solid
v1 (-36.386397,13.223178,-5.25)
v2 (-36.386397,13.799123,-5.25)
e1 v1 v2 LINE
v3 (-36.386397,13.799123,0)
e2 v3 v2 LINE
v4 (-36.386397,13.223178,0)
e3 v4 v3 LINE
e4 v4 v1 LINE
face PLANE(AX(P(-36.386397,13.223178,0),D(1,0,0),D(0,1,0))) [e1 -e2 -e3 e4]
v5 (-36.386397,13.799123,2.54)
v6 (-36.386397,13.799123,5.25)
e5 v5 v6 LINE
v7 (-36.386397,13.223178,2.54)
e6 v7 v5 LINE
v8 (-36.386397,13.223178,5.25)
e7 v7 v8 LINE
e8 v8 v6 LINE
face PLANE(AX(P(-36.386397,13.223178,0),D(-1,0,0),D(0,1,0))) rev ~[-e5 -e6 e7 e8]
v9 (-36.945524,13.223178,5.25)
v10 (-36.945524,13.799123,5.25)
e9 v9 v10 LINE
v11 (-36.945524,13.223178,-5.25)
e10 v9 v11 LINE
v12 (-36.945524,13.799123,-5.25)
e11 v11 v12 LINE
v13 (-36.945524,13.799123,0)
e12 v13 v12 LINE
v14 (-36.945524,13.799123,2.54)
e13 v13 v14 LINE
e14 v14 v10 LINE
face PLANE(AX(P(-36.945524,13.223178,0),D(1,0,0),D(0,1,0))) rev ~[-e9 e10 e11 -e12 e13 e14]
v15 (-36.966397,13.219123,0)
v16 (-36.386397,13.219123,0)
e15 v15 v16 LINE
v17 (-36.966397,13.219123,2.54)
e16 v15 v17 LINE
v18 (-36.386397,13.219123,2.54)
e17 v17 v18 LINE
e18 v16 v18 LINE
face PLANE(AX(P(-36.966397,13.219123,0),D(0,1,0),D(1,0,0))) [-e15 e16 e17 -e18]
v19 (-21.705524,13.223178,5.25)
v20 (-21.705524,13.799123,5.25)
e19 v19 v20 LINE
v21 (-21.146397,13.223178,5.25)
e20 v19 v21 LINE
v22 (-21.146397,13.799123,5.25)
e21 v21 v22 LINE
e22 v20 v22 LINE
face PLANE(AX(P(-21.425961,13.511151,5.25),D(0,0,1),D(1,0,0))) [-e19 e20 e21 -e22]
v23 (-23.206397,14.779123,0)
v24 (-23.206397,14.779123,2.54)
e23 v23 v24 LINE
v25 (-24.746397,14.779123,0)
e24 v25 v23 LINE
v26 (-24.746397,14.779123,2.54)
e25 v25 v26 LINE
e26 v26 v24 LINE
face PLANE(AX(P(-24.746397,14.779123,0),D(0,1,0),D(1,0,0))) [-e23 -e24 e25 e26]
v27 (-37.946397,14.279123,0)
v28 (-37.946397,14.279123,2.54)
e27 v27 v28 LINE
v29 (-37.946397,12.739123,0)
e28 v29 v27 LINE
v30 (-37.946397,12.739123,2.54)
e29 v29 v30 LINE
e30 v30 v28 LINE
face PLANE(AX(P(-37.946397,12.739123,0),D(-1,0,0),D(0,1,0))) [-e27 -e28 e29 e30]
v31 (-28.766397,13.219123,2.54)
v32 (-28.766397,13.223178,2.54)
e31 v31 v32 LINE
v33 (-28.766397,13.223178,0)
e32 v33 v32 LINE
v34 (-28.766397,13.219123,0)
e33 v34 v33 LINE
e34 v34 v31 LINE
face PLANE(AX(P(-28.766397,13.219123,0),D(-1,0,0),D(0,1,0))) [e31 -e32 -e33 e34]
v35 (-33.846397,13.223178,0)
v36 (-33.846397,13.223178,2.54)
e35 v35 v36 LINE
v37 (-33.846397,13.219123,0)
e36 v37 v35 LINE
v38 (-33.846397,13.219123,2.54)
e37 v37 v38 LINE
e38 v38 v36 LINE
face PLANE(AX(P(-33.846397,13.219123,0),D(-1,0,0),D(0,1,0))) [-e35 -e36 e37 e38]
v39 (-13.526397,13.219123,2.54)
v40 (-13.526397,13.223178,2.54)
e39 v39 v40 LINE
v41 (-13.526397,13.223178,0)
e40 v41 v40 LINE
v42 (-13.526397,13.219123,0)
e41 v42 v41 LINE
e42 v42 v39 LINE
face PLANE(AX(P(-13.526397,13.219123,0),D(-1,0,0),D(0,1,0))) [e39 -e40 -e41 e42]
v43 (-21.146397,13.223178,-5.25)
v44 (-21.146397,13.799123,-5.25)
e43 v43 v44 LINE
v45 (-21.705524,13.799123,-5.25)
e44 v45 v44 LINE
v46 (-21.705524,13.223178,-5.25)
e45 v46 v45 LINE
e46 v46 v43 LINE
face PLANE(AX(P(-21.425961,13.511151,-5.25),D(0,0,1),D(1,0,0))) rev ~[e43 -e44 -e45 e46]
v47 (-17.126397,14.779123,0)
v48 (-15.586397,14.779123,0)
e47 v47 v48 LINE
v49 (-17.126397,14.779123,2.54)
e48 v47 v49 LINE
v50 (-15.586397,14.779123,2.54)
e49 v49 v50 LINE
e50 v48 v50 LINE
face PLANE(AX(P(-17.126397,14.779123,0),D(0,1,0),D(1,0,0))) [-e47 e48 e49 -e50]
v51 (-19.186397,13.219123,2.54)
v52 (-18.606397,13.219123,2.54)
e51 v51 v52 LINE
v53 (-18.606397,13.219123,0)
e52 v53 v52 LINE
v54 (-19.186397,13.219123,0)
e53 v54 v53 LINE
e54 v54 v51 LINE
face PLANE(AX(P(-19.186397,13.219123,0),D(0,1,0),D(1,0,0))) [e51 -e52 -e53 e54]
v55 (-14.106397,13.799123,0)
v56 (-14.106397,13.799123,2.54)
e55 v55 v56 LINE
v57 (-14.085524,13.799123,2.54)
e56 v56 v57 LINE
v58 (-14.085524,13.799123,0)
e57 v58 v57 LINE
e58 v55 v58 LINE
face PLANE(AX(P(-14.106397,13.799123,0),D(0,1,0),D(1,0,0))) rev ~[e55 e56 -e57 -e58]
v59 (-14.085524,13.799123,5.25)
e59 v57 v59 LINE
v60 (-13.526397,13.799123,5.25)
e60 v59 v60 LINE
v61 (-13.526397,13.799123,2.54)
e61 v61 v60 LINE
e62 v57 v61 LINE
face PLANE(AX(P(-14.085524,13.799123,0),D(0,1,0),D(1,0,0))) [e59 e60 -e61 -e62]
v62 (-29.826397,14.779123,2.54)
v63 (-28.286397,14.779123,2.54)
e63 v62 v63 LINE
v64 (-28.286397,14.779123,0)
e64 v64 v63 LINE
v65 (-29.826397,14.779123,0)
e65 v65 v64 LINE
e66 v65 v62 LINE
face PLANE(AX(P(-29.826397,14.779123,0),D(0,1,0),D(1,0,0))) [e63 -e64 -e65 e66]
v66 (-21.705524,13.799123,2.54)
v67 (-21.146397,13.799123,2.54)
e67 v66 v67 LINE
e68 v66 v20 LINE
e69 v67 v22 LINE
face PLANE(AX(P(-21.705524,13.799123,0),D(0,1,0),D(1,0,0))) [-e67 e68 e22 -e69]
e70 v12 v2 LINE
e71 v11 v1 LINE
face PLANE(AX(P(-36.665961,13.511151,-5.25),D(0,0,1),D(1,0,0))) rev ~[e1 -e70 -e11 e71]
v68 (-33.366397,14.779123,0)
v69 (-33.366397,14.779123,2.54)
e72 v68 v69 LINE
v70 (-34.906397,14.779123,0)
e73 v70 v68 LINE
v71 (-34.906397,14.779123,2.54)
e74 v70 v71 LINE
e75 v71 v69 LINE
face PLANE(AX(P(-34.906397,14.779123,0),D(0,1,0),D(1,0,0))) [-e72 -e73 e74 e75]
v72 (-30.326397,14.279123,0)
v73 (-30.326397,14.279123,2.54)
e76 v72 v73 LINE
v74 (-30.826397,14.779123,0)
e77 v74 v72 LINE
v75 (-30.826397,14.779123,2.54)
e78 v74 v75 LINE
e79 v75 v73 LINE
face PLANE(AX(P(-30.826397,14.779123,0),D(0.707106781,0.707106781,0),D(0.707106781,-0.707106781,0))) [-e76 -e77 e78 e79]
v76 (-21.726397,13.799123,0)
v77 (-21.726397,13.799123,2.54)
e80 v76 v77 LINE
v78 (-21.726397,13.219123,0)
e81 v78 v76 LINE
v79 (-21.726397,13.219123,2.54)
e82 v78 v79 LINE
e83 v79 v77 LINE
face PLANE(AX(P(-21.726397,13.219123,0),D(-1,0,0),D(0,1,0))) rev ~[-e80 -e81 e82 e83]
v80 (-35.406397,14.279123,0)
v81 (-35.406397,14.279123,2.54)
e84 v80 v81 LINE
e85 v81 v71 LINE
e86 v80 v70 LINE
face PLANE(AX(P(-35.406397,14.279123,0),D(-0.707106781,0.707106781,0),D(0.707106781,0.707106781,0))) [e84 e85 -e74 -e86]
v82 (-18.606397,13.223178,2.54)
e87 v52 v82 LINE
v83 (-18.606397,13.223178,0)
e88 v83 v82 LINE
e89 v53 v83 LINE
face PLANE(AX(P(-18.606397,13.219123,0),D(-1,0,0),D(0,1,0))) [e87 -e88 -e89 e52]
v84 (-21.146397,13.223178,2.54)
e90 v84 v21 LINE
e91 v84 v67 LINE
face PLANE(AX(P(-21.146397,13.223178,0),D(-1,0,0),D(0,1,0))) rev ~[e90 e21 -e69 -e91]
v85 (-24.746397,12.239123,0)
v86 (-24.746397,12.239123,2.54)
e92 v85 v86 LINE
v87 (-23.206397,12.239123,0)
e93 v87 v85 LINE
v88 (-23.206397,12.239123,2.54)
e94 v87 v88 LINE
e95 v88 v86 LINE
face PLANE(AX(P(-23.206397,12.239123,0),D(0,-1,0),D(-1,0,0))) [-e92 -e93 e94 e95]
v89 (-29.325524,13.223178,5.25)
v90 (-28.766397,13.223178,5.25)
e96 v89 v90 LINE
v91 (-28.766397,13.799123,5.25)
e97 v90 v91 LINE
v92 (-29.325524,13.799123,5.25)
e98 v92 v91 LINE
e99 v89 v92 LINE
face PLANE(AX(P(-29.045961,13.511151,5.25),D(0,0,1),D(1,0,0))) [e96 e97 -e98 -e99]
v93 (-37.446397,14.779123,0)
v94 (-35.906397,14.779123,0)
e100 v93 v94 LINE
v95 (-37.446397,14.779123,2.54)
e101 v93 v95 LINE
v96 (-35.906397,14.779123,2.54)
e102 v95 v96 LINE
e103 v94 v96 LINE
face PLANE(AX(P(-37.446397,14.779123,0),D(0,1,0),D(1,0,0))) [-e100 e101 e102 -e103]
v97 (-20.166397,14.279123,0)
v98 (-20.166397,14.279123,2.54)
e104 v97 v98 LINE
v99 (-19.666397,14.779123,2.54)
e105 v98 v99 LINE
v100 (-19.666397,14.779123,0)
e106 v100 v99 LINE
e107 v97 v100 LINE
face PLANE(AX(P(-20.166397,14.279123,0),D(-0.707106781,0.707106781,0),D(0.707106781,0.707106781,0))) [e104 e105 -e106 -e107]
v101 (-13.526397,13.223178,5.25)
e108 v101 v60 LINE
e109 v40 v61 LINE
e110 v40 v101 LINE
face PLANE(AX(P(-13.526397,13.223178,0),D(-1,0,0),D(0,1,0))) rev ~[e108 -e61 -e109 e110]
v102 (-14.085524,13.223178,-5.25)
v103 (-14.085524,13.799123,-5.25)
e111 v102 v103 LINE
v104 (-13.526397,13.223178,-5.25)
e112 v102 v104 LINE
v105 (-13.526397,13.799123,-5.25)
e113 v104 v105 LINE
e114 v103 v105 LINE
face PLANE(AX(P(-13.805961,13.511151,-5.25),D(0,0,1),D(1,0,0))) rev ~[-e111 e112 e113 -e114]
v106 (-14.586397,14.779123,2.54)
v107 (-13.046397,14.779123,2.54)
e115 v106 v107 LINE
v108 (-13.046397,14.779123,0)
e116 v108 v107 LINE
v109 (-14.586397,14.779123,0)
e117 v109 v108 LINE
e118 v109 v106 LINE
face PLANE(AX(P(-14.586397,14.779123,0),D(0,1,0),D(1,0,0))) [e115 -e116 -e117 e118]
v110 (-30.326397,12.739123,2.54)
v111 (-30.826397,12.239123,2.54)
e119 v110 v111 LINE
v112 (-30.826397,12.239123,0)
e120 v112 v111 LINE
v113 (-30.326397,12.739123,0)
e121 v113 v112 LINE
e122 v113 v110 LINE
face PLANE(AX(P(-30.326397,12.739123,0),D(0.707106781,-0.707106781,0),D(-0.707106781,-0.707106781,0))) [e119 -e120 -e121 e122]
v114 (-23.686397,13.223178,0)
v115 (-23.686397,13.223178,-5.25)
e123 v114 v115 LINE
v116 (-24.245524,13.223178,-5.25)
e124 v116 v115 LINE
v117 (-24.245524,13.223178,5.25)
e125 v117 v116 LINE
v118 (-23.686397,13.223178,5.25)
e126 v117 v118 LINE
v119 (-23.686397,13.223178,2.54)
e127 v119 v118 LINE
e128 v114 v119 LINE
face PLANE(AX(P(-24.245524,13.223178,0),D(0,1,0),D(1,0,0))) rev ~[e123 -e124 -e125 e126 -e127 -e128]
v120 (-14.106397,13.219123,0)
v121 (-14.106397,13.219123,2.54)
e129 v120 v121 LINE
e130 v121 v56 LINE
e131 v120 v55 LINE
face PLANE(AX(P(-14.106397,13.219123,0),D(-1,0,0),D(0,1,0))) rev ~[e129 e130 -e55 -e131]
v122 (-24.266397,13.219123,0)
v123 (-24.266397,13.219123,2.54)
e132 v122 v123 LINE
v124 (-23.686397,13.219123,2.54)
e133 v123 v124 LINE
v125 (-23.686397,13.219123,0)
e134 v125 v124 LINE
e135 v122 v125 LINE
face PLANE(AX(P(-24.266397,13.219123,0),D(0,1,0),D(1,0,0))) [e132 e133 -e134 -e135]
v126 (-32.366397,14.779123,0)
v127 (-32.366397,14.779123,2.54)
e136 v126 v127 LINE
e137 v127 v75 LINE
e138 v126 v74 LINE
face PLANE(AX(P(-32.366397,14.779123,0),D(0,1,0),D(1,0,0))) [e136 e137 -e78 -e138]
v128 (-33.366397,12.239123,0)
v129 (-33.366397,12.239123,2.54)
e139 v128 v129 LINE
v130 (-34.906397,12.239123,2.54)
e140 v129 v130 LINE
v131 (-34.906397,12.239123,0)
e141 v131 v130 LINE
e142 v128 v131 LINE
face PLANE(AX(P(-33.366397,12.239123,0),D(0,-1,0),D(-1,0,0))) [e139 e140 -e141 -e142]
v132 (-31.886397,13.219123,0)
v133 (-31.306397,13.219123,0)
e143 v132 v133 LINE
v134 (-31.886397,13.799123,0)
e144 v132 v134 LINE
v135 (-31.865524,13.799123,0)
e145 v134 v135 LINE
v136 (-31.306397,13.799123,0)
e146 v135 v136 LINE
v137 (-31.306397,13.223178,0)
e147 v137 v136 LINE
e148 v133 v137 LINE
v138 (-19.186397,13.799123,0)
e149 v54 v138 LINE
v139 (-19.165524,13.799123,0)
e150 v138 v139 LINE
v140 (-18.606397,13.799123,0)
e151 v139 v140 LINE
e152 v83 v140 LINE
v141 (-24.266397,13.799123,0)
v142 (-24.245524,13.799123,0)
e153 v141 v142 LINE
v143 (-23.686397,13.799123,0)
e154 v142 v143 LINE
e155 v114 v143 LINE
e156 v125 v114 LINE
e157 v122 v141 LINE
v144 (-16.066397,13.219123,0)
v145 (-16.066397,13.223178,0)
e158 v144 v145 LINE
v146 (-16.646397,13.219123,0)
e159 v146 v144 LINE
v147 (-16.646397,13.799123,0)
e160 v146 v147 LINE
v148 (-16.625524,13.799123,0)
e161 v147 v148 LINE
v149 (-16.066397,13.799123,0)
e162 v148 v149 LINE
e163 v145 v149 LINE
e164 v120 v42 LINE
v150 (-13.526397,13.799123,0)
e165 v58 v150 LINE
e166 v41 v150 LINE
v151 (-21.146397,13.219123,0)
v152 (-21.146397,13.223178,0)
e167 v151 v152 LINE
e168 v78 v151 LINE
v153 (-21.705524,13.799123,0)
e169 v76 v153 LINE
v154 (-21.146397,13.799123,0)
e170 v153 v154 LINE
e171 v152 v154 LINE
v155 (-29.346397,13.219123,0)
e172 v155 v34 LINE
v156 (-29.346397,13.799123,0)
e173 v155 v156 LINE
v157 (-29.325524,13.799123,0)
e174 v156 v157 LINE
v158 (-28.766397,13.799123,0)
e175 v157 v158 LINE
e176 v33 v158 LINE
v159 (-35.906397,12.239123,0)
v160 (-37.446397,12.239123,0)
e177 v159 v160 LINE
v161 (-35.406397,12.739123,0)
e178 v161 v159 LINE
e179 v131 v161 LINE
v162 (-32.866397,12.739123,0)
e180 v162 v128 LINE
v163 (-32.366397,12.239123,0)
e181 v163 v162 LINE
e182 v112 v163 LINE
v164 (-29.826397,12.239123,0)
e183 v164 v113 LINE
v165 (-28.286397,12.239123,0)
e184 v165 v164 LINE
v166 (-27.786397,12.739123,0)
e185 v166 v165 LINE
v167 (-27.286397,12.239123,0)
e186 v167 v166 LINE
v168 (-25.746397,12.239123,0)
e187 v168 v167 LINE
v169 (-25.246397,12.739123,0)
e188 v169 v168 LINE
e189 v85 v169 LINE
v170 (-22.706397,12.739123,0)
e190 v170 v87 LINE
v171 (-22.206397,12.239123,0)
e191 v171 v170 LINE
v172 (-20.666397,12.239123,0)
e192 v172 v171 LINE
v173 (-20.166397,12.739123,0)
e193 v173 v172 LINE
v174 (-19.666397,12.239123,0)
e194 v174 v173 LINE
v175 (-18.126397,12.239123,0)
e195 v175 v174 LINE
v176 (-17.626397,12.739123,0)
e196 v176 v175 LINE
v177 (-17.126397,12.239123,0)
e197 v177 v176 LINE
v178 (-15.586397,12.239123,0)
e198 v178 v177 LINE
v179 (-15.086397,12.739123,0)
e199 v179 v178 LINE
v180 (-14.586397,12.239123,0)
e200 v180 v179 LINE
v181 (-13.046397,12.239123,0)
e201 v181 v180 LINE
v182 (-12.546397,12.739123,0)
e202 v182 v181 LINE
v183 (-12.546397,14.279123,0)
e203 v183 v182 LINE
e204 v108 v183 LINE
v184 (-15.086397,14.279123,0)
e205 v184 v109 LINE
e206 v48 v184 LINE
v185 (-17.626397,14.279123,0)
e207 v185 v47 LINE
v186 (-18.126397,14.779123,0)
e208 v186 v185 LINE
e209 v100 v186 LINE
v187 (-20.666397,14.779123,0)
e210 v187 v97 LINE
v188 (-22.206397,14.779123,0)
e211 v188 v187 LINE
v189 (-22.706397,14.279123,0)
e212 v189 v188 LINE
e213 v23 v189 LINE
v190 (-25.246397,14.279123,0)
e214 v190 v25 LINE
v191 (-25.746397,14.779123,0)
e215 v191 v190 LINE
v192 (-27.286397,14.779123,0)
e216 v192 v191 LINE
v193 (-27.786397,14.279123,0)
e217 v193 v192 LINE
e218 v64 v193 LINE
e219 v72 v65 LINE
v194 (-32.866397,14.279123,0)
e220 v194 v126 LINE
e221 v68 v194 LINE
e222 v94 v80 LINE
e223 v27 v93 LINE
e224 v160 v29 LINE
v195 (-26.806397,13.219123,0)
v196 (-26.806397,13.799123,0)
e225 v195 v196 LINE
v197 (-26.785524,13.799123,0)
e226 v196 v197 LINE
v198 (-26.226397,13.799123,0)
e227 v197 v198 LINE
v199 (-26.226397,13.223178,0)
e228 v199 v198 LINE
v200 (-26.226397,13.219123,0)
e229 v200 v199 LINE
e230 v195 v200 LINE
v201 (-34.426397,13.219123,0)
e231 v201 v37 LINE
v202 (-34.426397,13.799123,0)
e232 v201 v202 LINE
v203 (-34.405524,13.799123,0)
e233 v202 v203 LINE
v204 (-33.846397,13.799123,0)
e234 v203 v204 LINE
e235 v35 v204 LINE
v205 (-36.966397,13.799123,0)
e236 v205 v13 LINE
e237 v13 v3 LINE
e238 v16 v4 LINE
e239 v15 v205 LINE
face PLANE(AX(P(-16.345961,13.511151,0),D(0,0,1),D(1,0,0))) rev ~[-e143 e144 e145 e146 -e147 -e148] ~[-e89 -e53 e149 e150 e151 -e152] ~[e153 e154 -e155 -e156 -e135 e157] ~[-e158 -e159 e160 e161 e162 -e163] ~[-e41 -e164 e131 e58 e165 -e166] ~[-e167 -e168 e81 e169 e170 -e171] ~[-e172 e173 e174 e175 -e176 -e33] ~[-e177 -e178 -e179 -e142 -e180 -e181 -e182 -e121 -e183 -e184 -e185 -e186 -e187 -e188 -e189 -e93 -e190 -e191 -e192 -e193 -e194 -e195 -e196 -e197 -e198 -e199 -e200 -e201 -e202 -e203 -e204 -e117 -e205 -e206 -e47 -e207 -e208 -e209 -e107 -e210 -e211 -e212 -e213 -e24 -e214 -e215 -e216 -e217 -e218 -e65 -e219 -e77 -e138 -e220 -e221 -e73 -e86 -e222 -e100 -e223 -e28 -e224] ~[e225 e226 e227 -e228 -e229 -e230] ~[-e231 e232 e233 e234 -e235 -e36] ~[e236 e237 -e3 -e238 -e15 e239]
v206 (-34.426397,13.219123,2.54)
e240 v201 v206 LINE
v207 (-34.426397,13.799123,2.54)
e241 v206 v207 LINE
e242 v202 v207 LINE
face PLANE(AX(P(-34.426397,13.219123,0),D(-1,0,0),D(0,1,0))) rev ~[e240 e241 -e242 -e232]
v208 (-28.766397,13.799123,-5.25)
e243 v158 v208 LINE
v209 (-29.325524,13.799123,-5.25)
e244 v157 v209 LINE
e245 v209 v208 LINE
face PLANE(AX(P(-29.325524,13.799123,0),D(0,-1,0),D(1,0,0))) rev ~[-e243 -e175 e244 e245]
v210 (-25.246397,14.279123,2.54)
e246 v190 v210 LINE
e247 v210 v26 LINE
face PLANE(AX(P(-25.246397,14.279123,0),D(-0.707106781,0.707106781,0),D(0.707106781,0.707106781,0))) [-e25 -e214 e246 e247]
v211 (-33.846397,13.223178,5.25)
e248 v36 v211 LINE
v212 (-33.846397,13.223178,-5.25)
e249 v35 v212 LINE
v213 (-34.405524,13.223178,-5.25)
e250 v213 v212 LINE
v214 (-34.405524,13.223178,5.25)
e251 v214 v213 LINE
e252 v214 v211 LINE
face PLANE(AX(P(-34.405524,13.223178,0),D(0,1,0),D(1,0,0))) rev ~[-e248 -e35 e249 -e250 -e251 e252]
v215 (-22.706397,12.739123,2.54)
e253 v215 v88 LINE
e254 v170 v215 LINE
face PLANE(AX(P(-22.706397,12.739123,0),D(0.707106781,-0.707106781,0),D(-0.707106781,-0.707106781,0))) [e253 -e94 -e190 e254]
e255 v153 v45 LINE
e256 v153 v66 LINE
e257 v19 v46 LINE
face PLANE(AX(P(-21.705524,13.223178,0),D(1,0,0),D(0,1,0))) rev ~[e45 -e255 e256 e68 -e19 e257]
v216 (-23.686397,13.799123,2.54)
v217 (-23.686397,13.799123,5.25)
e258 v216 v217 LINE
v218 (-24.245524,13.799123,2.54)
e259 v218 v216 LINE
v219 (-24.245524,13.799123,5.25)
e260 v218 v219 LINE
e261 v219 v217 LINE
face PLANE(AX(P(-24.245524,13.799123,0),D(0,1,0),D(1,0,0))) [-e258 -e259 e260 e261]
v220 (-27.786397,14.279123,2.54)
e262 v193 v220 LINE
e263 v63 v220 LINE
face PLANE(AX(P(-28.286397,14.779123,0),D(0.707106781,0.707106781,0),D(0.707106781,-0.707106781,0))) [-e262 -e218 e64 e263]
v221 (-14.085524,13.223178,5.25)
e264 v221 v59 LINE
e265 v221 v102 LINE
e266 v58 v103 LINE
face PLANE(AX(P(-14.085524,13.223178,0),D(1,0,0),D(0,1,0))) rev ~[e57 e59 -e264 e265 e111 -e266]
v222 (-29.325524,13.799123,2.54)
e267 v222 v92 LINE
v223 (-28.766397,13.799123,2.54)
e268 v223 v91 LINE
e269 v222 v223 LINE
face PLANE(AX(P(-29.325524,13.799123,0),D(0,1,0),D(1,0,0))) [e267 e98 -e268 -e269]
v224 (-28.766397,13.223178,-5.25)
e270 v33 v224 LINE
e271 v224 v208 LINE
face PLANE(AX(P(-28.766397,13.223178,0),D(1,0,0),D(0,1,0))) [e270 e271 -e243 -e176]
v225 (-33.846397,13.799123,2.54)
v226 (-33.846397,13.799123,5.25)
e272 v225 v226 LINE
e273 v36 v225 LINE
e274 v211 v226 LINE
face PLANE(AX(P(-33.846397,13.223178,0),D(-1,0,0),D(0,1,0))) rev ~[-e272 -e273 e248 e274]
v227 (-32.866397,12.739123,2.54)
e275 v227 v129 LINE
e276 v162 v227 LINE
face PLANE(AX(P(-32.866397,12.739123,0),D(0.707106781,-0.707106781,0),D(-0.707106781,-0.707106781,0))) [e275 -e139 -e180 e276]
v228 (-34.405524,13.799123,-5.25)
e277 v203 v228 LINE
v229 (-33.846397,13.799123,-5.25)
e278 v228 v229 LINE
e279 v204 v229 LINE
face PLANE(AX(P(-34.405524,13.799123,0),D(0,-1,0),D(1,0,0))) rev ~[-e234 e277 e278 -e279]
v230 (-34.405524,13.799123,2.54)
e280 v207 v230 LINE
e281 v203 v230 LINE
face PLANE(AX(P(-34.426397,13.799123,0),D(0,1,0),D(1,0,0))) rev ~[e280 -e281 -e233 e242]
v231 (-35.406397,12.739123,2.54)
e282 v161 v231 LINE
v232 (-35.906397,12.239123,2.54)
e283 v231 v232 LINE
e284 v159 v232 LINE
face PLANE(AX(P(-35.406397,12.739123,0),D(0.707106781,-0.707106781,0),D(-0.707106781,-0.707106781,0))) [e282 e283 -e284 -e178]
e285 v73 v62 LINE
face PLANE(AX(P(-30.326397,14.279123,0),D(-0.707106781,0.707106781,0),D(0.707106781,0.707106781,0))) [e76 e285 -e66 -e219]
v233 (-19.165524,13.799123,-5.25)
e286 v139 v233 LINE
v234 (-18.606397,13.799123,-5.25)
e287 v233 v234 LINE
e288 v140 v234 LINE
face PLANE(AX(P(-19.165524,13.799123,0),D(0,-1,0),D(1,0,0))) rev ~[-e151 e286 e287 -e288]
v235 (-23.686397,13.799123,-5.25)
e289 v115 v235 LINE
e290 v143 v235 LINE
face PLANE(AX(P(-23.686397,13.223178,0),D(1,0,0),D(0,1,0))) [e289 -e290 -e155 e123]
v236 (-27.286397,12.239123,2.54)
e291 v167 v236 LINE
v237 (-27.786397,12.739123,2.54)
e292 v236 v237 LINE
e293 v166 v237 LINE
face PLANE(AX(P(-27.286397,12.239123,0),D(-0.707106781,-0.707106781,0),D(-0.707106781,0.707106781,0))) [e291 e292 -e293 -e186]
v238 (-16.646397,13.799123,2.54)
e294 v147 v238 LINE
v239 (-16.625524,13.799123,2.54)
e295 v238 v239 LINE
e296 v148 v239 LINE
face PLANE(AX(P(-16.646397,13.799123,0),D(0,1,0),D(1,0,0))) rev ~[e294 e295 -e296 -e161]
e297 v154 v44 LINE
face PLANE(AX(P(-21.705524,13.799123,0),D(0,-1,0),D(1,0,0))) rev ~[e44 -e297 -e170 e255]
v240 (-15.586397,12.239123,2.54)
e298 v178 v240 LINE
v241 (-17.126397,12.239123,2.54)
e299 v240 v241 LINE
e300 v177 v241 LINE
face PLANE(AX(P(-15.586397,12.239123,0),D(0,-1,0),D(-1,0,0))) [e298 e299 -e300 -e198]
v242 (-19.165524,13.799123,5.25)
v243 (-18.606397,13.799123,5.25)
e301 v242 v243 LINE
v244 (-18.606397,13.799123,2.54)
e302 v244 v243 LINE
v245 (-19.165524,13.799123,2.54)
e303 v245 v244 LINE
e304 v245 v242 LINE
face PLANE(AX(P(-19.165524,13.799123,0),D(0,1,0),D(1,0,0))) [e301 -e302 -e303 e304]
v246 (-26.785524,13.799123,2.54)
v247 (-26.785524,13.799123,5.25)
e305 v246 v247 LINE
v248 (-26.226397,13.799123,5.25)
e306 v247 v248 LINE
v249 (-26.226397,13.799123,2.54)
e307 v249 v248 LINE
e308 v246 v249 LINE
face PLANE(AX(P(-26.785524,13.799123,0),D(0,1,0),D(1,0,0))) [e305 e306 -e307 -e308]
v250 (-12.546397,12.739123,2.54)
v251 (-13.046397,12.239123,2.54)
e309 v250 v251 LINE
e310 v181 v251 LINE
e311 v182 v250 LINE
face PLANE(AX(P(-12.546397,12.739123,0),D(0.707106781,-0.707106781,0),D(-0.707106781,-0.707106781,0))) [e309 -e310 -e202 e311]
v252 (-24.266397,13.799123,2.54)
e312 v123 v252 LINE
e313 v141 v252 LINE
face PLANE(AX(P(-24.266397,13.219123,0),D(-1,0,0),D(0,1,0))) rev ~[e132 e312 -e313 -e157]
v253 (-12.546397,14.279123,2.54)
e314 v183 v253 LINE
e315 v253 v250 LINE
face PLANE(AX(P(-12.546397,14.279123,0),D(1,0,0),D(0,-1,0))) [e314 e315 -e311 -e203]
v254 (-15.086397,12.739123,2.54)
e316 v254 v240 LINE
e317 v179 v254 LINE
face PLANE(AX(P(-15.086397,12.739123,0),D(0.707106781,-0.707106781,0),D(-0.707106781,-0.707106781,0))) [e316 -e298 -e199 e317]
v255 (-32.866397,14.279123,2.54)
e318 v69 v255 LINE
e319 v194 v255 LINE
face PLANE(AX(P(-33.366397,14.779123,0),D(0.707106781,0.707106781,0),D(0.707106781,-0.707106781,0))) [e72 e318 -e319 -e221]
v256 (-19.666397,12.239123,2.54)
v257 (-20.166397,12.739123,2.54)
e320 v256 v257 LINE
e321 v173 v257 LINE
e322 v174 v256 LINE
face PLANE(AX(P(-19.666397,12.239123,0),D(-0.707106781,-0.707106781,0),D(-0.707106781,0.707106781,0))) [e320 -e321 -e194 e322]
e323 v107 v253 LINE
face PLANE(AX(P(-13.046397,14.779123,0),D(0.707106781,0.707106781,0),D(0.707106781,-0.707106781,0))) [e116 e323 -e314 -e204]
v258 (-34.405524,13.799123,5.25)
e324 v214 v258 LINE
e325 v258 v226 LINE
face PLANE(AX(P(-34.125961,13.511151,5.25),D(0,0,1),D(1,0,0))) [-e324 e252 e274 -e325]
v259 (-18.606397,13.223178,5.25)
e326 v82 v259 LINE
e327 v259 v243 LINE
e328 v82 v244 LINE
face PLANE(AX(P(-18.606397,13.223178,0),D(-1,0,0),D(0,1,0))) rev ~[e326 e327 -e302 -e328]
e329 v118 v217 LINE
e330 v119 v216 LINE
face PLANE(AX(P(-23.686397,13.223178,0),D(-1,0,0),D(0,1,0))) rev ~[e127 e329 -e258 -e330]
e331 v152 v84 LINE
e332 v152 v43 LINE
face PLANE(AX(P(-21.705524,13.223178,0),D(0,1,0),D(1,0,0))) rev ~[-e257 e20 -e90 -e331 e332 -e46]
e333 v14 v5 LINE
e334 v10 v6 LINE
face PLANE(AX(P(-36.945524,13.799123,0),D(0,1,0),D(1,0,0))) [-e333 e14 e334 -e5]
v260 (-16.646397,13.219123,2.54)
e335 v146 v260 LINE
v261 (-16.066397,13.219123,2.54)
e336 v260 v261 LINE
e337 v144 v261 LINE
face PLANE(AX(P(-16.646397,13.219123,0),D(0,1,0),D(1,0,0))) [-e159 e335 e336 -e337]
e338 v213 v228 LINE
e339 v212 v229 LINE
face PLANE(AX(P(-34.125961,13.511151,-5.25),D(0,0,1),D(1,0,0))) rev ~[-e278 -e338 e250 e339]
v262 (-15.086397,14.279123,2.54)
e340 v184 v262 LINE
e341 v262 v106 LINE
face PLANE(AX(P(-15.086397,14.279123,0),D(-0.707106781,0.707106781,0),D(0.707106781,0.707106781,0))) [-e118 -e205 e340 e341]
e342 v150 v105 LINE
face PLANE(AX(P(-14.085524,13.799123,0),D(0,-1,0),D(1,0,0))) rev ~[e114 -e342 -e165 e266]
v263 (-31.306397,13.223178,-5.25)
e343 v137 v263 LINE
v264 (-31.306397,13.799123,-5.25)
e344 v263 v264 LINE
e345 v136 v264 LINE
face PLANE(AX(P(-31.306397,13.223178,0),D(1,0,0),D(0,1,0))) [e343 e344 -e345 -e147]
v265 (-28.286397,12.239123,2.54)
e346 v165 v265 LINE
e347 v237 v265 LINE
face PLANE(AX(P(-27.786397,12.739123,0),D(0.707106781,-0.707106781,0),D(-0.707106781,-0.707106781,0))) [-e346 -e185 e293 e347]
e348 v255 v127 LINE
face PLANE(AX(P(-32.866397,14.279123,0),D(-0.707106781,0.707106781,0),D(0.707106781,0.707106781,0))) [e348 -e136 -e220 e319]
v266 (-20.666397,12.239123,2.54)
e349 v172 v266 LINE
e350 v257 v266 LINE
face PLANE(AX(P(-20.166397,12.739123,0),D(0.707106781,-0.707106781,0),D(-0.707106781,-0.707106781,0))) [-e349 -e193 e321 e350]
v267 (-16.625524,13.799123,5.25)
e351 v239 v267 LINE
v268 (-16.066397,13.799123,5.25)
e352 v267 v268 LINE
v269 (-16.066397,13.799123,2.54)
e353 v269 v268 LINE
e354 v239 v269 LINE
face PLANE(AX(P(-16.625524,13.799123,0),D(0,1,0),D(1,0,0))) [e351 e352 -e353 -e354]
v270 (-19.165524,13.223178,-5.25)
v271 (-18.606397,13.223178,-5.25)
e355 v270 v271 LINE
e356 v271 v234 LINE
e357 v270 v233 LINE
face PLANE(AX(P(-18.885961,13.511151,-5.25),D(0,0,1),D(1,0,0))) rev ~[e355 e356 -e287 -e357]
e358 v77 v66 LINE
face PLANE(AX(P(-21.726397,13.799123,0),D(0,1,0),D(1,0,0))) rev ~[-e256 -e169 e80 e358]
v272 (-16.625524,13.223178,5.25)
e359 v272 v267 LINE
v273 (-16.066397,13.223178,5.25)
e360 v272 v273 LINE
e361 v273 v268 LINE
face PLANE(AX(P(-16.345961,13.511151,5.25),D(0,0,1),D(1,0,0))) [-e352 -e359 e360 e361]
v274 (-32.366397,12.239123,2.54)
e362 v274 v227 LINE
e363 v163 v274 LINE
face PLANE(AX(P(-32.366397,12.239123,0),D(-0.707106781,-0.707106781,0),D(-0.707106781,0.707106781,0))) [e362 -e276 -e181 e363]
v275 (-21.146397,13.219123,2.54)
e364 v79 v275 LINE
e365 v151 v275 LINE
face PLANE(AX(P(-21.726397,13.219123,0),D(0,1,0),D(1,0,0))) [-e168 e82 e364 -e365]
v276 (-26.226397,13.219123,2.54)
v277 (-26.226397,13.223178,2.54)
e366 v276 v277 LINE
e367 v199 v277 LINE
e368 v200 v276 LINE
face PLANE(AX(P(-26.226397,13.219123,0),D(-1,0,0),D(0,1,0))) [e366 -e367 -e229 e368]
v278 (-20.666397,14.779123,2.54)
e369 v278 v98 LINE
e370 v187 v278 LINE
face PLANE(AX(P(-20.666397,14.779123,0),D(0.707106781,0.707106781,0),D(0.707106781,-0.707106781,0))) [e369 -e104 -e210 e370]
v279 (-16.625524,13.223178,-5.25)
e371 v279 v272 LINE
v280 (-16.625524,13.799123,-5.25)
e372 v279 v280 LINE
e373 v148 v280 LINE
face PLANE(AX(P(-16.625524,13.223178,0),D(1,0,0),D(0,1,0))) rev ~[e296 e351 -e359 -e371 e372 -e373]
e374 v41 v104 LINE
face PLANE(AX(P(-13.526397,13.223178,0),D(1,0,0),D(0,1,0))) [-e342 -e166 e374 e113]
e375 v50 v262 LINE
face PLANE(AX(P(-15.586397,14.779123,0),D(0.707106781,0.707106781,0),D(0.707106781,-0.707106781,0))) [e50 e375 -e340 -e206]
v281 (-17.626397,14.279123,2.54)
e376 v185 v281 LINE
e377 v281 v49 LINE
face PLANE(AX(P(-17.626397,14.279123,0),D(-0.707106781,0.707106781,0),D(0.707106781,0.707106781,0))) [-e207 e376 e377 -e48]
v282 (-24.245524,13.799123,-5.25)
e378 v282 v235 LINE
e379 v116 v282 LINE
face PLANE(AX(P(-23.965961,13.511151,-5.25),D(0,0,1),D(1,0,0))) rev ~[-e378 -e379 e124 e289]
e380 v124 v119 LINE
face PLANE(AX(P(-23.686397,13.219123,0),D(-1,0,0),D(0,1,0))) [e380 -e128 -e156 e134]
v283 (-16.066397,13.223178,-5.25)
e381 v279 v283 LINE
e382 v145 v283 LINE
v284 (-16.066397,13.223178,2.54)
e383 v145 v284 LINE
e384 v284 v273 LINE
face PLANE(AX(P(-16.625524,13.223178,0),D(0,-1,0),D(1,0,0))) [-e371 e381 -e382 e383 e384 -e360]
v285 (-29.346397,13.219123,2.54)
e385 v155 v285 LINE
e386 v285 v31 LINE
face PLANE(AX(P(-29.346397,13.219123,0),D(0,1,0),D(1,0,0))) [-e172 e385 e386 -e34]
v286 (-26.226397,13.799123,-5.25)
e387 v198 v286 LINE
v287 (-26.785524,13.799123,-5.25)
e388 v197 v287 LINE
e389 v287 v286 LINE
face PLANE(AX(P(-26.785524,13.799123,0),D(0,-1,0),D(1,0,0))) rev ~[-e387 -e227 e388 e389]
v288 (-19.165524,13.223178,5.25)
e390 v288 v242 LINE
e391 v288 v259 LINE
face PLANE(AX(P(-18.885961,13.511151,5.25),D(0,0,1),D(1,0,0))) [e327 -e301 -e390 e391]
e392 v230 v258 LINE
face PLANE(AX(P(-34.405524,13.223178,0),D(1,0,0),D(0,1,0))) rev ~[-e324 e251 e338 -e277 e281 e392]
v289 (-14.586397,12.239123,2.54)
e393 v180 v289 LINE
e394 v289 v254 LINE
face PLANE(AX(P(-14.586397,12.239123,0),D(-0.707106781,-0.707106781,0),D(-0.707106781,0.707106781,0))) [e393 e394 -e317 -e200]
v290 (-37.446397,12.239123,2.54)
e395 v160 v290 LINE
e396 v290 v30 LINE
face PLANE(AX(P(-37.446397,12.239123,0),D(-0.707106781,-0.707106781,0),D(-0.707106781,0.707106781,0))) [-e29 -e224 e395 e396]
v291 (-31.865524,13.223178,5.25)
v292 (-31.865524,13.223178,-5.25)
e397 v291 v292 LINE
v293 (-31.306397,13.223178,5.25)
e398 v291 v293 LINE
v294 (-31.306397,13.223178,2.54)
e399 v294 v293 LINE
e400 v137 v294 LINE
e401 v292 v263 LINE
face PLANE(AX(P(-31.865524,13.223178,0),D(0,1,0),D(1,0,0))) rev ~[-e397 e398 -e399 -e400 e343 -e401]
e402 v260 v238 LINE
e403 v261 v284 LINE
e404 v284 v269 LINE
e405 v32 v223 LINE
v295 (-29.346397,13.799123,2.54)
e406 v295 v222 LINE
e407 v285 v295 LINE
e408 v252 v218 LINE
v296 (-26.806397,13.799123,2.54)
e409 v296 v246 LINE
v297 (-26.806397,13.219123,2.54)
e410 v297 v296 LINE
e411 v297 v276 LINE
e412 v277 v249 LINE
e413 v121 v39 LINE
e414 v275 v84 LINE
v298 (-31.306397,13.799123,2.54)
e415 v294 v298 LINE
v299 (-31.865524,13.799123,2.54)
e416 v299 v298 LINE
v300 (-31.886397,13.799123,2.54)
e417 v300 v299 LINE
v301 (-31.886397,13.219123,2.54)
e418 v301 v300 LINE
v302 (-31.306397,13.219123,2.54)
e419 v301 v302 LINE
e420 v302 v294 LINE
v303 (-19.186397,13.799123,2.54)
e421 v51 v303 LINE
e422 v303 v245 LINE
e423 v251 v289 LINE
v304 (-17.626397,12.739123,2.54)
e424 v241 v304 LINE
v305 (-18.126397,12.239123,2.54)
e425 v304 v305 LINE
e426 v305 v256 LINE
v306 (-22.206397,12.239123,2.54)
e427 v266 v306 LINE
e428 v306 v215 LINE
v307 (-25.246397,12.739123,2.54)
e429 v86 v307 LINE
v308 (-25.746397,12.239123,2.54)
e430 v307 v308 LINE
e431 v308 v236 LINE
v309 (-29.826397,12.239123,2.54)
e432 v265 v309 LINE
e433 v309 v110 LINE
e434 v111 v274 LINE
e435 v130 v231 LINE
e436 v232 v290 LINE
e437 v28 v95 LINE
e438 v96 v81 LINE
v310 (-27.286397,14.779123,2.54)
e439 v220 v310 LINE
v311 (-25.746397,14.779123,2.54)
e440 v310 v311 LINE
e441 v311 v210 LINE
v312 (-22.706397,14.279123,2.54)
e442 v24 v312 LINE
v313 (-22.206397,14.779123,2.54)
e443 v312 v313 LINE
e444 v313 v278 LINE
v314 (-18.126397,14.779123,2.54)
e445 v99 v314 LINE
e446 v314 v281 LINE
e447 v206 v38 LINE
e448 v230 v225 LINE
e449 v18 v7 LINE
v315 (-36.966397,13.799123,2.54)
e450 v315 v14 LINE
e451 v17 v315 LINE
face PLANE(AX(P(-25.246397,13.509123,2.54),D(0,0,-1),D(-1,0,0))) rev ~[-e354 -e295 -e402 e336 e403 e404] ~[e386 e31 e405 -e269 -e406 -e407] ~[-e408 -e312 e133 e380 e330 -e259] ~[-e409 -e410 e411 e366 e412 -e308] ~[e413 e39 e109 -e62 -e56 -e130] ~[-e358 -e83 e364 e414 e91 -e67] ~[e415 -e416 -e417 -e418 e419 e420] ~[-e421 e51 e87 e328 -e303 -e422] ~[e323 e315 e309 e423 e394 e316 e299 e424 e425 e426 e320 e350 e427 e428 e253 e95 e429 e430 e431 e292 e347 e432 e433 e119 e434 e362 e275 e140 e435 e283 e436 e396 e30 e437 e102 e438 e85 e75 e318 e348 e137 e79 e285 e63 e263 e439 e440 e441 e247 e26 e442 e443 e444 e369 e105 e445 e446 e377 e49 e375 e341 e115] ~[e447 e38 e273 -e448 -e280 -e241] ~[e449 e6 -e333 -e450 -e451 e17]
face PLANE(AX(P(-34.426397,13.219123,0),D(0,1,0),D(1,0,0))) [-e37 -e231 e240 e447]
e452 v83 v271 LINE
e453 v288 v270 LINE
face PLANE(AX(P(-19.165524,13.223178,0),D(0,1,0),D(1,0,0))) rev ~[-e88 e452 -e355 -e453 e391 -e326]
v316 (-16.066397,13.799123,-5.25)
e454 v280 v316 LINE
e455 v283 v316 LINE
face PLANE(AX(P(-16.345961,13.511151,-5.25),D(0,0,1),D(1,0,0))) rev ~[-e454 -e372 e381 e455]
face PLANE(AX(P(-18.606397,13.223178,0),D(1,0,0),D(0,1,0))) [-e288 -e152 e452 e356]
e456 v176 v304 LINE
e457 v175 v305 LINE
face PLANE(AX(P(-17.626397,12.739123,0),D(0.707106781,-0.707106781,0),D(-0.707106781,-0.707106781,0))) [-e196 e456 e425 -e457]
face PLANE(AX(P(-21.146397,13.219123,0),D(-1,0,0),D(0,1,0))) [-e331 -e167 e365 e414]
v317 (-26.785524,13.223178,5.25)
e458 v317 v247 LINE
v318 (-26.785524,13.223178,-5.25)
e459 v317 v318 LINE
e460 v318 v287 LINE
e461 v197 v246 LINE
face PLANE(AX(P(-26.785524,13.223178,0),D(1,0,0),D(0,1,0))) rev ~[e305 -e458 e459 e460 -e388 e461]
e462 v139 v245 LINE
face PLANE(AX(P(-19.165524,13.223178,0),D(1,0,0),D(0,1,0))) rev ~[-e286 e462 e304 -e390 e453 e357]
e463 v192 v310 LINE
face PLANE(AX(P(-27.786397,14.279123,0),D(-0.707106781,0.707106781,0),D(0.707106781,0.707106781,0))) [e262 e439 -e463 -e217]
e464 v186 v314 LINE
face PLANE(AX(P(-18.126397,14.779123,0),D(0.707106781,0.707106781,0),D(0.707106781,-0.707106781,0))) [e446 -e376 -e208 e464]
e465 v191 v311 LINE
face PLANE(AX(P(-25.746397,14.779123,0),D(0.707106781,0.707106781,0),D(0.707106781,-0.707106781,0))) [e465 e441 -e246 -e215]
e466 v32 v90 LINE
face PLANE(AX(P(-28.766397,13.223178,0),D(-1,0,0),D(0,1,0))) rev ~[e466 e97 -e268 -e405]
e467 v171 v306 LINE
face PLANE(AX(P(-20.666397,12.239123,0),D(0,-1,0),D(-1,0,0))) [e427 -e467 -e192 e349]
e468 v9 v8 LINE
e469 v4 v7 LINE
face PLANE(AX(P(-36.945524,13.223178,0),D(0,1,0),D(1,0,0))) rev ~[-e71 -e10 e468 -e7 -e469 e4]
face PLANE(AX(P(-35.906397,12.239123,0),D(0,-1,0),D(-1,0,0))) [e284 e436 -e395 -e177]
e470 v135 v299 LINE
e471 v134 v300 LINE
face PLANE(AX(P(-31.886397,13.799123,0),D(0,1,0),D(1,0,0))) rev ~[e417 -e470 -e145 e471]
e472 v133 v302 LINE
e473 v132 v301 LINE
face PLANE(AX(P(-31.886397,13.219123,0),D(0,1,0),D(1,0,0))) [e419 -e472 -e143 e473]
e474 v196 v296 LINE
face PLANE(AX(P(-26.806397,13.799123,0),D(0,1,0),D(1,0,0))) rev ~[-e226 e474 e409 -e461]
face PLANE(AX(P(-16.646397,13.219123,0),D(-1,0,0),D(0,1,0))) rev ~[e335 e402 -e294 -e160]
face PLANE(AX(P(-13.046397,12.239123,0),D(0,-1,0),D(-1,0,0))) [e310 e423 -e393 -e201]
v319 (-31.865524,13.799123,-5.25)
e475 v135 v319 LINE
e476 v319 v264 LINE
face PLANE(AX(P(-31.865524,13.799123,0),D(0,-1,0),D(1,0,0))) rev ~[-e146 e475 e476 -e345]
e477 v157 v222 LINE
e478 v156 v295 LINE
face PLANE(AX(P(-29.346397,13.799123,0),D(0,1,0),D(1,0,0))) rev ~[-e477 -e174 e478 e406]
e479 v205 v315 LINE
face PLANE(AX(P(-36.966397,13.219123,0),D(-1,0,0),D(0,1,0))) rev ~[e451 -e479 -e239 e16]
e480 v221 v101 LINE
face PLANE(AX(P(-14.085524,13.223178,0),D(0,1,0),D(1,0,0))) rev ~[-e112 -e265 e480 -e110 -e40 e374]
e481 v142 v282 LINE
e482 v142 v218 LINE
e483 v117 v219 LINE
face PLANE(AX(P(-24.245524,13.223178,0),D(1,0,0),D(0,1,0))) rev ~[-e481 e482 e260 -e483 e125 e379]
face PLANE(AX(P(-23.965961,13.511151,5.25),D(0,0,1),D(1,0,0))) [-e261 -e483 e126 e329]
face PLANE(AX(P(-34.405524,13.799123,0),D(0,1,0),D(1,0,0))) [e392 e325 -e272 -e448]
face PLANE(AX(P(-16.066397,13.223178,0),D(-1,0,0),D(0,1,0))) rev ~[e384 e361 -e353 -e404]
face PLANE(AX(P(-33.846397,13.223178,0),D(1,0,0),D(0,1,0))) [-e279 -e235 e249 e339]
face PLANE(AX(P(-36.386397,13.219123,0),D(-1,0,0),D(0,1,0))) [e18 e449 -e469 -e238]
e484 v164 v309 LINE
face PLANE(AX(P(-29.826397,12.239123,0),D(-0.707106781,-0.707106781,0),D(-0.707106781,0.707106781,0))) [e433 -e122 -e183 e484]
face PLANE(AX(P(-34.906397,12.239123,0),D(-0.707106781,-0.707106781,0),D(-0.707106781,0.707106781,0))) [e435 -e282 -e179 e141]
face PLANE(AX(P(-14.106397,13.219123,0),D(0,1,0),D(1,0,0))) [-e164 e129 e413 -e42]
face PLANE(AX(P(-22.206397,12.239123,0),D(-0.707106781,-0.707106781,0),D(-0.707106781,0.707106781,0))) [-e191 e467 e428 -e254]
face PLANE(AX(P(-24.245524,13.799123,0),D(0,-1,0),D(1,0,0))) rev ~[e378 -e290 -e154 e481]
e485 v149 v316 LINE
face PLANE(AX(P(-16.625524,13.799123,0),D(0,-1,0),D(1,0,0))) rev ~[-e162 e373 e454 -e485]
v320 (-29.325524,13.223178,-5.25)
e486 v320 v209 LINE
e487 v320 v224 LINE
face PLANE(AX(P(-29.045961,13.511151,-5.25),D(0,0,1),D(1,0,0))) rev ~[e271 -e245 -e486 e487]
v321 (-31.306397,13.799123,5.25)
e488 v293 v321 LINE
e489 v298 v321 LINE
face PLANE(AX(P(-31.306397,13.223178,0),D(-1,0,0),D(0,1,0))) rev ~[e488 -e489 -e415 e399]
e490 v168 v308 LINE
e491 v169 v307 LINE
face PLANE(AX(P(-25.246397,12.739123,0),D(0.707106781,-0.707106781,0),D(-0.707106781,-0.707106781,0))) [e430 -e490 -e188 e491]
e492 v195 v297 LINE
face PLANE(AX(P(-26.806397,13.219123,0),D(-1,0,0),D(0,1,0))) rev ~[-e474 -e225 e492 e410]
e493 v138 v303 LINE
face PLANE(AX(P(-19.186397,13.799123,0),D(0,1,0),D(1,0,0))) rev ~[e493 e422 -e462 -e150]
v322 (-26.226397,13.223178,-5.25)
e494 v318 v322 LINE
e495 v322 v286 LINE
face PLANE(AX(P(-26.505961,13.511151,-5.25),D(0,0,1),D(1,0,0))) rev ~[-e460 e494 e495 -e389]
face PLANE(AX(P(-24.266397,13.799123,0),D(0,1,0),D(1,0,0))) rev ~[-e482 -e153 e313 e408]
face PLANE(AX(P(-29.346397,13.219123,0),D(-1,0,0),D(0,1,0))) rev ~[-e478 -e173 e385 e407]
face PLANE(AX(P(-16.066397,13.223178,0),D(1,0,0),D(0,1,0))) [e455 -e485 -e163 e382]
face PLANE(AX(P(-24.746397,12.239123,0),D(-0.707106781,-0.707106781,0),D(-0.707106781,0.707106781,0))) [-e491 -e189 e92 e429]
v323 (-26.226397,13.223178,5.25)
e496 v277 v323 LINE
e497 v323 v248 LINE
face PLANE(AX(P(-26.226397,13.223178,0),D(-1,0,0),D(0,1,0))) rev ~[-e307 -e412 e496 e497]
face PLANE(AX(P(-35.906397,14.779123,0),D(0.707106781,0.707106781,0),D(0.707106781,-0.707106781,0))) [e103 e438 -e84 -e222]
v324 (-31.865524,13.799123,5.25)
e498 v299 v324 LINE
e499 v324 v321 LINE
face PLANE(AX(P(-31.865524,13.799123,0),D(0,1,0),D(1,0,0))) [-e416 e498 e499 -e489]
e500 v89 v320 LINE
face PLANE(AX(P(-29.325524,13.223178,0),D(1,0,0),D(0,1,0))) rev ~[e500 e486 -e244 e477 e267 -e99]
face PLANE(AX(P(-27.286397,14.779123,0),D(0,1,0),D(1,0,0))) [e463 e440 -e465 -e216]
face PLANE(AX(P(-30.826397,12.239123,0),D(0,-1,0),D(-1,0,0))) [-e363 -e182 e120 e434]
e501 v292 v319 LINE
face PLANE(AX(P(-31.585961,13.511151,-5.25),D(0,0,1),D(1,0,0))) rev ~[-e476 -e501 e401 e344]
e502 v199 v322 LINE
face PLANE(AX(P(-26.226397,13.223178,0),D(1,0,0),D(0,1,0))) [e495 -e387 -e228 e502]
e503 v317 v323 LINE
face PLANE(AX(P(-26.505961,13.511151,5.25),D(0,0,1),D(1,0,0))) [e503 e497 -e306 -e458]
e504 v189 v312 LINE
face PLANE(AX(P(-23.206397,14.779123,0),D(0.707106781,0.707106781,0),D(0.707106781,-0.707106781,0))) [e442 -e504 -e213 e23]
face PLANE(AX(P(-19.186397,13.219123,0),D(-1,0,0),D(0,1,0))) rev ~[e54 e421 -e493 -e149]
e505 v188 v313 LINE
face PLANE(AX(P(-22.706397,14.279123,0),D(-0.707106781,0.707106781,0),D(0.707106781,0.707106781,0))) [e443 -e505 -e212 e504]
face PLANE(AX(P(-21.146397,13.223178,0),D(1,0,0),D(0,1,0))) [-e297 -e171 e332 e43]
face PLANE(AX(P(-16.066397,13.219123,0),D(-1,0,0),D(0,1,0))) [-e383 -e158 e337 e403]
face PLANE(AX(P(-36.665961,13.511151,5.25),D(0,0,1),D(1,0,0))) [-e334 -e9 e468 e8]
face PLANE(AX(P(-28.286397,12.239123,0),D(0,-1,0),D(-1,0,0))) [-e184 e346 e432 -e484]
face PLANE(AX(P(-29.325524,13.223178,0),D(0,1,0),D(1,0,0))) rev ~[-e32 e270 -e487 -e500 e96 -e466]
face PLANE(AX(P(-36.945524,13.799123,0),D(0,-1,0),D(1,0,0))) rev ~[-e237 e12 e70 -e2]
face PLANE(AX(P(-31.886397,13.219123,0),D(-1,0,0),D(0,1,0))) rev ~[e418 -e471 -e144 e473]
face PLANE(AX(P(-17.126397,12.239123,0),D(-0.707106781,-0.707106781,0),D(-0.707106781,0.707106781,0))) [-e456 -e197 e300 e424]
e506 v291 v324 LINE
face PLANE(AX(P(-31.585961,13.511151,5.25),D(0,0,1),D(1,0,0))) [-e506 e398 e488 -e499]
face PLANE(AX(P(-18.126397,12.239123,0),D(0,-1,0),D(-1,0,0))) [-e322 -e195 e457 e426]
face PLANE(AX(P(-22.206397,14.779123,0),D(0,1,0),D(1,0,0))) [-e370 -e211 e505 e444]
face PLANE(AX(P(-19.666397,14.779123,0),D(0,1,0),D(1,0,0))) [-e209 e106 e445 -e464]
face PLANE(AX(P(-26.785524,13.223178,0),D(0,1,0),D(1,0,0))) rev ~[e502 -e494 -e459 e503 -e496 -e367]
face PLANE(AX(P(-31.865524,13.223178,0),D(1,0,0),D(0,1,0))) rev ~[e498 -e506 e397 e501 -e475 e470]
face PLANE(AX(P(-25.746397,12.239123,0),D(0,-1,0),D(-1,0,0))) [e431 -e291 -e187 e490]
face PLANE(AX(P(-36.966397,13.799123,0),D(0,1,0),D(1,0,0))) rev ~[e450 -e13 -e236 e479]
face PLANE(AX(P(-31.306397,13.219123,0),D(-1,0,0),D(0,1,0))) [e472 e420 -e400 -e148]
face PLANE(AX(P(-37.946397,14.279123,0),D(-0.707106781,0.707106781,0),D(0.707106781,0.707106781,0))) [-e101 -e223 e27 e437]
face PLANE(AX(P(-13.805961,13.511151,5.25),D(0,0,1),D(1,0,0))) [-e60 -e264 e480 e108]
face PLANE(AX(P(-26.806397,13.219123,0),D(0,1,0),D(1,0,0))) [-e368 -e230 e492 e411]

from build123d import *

# Parameters (mm, degrees)
SKETCH1_W                = 0.58
SKETCH1_H                = 0.58
BOSS_EXTRUDE1_DEPTH      = 2.54
BOSS_EXTRUDE2_DEPTH      = 5.25
BOSS_EXTRUDE2_DEPTH_BACK = 5.25
SKETCH2_W                = 0.5591264
SKETCH2_H                = 0.575944702


with BuildPart() as part:
    # Sketch1 → Boss-Extrude1 (new body)
    with BuildSketch(Plane.XY):
        Polygon((-37.946397324, 14.279123168), (-37.446397324, 14.779123168), (-35.906397324, 14.779123168), (-35.406397324, 14.279123168), (-34.906397324, 14.779123168), (-33.366397324, 14.779123168), (-32.866397324, 14.279123168), (-32.366397324, 14.779123168), (-30.826397324, 14.779123168), (-30.326397324, 14.279123168), (-29.826397324, 14.779123168), (-28.286397324, 14.779123168), (-27.786397324, 14.279123168), (-27.286397324, 14.779123168), (-25.746397324, 14.779123168), (-25.246397324, 14.279123168), (-24.746397324, 14.779123168), (-23.206397324, 14.779123168), (-22.706397324, 14.279123168), (-22.206397324, 14.779123168), (-20.666397324, 14.779123168), (-20.166397324, 14.279123168), (-19.666397324, 14.779123168), (-18.126397324, 14.779123168), (-17.626397324, 14.279123168), (-17.126397324, 14.779123168), (-15.586397324, 14.779123168), (-15.086397324, 14.279123168), (-14.586397324, 14.779123168), (-13.046397324, 14.779123168), (-12.546397324, 14.279123168), (-12.546397324, 12.739123168), (-13.046397324, 12.239123168), (-14.586397324, 12.239123168), (-15.086397324, 12.739123168), (-15.586397324, 12.239123168), (-17.126397324, 12.239123168), (-17.626397324, 12.739123168), (-18.126397324, 12.239123168), (-19.666397324, 12.239123168), (-20.166397324, 12.739123168), (-20.666397324, 12.239123168), (-22.206397324, 12.239123168), (-22.706397324, 12.739123168), (-23.206397324, 12.239123168), (-24.746397324, 12.239123168), (-25.246397324, 12.739123168), (-25.746397324, 12.239123168), (-27.286397324, 12.239123168), (-27.786397324, 12.739123168), (-28.286397324, 12.239123168), (-29.826397324, 12.239123168), (-30.326397324, 12.739123168), (-30.826397324, 12.239123168), (-32.366397324, 12.239123168), (-32.866397324, 12.739123168), (-33.366397324, 12.239123168), (-34.906397324, 12.239123168), (-35.406397324, 12.739123168), (-35.906397324, 12.239123168), (-37.446397324, 12.239123168), (-37.946397324, 12.739123168), align=None)
        with Locations((-16.356397324, 13.509123168)):
            Rectangle(SKETCH1_W, SKETCH1_H, mode=Mode.SUBTRACT)
        with Locations((-13.816397324, 13.509123168)):
            Rectangle(SKETCH1_W, SKETCH1_H, mode=Mode.SUBTRACT)
        with Locations((-18.896397324, 13.509123168)):
            Rectangle(SKETCH1_W, SKETCH1_H, mode=Mode.SUBTRACT)
        with Locations((-21.436397324, 13.509123168)):
            Rectangle(SKETCH1_W, SKETCH1_H, mode=Mode.SUBTRACT)
        with Locations((-23.976397324, 13.509123168)):
            Rectangle(SKETCH1_W, SKETCH1_H, mode=Mode.SUBTRACT)
        with Locations((-26.516397324, 13.509123168)):
            Rectangle(SKETCH1_W, SKETCH1_H, mode=Mode.SUBTRACT)
        with Locations((-29.056397324, 13.509123168)):
            Rectangle(SKETCH1_W, SKETCH1_H, mode=Mode.SUBTRACT)
        with Locations((-31.596397324, 13.509123168)):
            Rectangle(SKETCH1_W, SKETCH1_H, mode=Mode.SUBTRACT)
        with Locations((-34.136397324, 13.509123168)):
            Rectangle(SKETCH1_W, SKETCH1_H, mode=Mode.SUBTRACT)
        with Locations((-36.676397324, 13.509123168)):
            Rectangle(SKETCH1_W, SKETCH1_H, mode=Mode.SUBTRACT)
    extrude(amount=BOSS_EXTRUDE1_DEPTH)

    # Sketch2 → Boss-Extrude2 (add, two sides: drawn at the far end of the back side and taken through both)
    with BuildSketch(Plane.XY.offset(-BOSS_EXTRUDE2_DEPTH_BACK)):
        with Locations((-16.345960524, 13.511150817)):
            Rectangle(SKETCH2_W, SKETCH2_H)
        with Locations((-13.805960524, 13.511150817)):
            Rectangle(SKETCH2_W, SKETCH2_H)
        with Locations((-18.885960524, 13.511150817)):
            Rectangle(SKETCH2_W, SKETCH2_H)
        with Locations((-21.425960524, 13.511150817)):
            Rectangle(SKETCH2_W, SKETCH2_H)
        with Locations((-23.965960524, 13.511150817)):
            Rectangle(SKETCH2_W, SKETCH2_H)
        with Locations((-26.505960524, 13.511150817)):
            Rectangle(SKETCH2_W, SKETCH2_H)
        with Locations((-29.045960524, 13.511150817)):
            Rectangle(SKETCH2_W, SKETCH2_H)
        with Locations((-31.585960524, 13.511150817)):
            Rectangle(SKETCH2_W, SKETCH2_H)
        with Locations((-34.125960524, 13.511150817)):
            Rectangle(SKETCH2_W, SKETCH2_H)
        with Locations((-36.665960524, 13.511150817)):
            Rectangle(SKETCH2_W, SKETCH2_H)
    extrude(amount=BOSS_EXTRUDE2_DEPTH + BOSS_EXTRUDE2_DEPTH_BACK)


solid = part.part
